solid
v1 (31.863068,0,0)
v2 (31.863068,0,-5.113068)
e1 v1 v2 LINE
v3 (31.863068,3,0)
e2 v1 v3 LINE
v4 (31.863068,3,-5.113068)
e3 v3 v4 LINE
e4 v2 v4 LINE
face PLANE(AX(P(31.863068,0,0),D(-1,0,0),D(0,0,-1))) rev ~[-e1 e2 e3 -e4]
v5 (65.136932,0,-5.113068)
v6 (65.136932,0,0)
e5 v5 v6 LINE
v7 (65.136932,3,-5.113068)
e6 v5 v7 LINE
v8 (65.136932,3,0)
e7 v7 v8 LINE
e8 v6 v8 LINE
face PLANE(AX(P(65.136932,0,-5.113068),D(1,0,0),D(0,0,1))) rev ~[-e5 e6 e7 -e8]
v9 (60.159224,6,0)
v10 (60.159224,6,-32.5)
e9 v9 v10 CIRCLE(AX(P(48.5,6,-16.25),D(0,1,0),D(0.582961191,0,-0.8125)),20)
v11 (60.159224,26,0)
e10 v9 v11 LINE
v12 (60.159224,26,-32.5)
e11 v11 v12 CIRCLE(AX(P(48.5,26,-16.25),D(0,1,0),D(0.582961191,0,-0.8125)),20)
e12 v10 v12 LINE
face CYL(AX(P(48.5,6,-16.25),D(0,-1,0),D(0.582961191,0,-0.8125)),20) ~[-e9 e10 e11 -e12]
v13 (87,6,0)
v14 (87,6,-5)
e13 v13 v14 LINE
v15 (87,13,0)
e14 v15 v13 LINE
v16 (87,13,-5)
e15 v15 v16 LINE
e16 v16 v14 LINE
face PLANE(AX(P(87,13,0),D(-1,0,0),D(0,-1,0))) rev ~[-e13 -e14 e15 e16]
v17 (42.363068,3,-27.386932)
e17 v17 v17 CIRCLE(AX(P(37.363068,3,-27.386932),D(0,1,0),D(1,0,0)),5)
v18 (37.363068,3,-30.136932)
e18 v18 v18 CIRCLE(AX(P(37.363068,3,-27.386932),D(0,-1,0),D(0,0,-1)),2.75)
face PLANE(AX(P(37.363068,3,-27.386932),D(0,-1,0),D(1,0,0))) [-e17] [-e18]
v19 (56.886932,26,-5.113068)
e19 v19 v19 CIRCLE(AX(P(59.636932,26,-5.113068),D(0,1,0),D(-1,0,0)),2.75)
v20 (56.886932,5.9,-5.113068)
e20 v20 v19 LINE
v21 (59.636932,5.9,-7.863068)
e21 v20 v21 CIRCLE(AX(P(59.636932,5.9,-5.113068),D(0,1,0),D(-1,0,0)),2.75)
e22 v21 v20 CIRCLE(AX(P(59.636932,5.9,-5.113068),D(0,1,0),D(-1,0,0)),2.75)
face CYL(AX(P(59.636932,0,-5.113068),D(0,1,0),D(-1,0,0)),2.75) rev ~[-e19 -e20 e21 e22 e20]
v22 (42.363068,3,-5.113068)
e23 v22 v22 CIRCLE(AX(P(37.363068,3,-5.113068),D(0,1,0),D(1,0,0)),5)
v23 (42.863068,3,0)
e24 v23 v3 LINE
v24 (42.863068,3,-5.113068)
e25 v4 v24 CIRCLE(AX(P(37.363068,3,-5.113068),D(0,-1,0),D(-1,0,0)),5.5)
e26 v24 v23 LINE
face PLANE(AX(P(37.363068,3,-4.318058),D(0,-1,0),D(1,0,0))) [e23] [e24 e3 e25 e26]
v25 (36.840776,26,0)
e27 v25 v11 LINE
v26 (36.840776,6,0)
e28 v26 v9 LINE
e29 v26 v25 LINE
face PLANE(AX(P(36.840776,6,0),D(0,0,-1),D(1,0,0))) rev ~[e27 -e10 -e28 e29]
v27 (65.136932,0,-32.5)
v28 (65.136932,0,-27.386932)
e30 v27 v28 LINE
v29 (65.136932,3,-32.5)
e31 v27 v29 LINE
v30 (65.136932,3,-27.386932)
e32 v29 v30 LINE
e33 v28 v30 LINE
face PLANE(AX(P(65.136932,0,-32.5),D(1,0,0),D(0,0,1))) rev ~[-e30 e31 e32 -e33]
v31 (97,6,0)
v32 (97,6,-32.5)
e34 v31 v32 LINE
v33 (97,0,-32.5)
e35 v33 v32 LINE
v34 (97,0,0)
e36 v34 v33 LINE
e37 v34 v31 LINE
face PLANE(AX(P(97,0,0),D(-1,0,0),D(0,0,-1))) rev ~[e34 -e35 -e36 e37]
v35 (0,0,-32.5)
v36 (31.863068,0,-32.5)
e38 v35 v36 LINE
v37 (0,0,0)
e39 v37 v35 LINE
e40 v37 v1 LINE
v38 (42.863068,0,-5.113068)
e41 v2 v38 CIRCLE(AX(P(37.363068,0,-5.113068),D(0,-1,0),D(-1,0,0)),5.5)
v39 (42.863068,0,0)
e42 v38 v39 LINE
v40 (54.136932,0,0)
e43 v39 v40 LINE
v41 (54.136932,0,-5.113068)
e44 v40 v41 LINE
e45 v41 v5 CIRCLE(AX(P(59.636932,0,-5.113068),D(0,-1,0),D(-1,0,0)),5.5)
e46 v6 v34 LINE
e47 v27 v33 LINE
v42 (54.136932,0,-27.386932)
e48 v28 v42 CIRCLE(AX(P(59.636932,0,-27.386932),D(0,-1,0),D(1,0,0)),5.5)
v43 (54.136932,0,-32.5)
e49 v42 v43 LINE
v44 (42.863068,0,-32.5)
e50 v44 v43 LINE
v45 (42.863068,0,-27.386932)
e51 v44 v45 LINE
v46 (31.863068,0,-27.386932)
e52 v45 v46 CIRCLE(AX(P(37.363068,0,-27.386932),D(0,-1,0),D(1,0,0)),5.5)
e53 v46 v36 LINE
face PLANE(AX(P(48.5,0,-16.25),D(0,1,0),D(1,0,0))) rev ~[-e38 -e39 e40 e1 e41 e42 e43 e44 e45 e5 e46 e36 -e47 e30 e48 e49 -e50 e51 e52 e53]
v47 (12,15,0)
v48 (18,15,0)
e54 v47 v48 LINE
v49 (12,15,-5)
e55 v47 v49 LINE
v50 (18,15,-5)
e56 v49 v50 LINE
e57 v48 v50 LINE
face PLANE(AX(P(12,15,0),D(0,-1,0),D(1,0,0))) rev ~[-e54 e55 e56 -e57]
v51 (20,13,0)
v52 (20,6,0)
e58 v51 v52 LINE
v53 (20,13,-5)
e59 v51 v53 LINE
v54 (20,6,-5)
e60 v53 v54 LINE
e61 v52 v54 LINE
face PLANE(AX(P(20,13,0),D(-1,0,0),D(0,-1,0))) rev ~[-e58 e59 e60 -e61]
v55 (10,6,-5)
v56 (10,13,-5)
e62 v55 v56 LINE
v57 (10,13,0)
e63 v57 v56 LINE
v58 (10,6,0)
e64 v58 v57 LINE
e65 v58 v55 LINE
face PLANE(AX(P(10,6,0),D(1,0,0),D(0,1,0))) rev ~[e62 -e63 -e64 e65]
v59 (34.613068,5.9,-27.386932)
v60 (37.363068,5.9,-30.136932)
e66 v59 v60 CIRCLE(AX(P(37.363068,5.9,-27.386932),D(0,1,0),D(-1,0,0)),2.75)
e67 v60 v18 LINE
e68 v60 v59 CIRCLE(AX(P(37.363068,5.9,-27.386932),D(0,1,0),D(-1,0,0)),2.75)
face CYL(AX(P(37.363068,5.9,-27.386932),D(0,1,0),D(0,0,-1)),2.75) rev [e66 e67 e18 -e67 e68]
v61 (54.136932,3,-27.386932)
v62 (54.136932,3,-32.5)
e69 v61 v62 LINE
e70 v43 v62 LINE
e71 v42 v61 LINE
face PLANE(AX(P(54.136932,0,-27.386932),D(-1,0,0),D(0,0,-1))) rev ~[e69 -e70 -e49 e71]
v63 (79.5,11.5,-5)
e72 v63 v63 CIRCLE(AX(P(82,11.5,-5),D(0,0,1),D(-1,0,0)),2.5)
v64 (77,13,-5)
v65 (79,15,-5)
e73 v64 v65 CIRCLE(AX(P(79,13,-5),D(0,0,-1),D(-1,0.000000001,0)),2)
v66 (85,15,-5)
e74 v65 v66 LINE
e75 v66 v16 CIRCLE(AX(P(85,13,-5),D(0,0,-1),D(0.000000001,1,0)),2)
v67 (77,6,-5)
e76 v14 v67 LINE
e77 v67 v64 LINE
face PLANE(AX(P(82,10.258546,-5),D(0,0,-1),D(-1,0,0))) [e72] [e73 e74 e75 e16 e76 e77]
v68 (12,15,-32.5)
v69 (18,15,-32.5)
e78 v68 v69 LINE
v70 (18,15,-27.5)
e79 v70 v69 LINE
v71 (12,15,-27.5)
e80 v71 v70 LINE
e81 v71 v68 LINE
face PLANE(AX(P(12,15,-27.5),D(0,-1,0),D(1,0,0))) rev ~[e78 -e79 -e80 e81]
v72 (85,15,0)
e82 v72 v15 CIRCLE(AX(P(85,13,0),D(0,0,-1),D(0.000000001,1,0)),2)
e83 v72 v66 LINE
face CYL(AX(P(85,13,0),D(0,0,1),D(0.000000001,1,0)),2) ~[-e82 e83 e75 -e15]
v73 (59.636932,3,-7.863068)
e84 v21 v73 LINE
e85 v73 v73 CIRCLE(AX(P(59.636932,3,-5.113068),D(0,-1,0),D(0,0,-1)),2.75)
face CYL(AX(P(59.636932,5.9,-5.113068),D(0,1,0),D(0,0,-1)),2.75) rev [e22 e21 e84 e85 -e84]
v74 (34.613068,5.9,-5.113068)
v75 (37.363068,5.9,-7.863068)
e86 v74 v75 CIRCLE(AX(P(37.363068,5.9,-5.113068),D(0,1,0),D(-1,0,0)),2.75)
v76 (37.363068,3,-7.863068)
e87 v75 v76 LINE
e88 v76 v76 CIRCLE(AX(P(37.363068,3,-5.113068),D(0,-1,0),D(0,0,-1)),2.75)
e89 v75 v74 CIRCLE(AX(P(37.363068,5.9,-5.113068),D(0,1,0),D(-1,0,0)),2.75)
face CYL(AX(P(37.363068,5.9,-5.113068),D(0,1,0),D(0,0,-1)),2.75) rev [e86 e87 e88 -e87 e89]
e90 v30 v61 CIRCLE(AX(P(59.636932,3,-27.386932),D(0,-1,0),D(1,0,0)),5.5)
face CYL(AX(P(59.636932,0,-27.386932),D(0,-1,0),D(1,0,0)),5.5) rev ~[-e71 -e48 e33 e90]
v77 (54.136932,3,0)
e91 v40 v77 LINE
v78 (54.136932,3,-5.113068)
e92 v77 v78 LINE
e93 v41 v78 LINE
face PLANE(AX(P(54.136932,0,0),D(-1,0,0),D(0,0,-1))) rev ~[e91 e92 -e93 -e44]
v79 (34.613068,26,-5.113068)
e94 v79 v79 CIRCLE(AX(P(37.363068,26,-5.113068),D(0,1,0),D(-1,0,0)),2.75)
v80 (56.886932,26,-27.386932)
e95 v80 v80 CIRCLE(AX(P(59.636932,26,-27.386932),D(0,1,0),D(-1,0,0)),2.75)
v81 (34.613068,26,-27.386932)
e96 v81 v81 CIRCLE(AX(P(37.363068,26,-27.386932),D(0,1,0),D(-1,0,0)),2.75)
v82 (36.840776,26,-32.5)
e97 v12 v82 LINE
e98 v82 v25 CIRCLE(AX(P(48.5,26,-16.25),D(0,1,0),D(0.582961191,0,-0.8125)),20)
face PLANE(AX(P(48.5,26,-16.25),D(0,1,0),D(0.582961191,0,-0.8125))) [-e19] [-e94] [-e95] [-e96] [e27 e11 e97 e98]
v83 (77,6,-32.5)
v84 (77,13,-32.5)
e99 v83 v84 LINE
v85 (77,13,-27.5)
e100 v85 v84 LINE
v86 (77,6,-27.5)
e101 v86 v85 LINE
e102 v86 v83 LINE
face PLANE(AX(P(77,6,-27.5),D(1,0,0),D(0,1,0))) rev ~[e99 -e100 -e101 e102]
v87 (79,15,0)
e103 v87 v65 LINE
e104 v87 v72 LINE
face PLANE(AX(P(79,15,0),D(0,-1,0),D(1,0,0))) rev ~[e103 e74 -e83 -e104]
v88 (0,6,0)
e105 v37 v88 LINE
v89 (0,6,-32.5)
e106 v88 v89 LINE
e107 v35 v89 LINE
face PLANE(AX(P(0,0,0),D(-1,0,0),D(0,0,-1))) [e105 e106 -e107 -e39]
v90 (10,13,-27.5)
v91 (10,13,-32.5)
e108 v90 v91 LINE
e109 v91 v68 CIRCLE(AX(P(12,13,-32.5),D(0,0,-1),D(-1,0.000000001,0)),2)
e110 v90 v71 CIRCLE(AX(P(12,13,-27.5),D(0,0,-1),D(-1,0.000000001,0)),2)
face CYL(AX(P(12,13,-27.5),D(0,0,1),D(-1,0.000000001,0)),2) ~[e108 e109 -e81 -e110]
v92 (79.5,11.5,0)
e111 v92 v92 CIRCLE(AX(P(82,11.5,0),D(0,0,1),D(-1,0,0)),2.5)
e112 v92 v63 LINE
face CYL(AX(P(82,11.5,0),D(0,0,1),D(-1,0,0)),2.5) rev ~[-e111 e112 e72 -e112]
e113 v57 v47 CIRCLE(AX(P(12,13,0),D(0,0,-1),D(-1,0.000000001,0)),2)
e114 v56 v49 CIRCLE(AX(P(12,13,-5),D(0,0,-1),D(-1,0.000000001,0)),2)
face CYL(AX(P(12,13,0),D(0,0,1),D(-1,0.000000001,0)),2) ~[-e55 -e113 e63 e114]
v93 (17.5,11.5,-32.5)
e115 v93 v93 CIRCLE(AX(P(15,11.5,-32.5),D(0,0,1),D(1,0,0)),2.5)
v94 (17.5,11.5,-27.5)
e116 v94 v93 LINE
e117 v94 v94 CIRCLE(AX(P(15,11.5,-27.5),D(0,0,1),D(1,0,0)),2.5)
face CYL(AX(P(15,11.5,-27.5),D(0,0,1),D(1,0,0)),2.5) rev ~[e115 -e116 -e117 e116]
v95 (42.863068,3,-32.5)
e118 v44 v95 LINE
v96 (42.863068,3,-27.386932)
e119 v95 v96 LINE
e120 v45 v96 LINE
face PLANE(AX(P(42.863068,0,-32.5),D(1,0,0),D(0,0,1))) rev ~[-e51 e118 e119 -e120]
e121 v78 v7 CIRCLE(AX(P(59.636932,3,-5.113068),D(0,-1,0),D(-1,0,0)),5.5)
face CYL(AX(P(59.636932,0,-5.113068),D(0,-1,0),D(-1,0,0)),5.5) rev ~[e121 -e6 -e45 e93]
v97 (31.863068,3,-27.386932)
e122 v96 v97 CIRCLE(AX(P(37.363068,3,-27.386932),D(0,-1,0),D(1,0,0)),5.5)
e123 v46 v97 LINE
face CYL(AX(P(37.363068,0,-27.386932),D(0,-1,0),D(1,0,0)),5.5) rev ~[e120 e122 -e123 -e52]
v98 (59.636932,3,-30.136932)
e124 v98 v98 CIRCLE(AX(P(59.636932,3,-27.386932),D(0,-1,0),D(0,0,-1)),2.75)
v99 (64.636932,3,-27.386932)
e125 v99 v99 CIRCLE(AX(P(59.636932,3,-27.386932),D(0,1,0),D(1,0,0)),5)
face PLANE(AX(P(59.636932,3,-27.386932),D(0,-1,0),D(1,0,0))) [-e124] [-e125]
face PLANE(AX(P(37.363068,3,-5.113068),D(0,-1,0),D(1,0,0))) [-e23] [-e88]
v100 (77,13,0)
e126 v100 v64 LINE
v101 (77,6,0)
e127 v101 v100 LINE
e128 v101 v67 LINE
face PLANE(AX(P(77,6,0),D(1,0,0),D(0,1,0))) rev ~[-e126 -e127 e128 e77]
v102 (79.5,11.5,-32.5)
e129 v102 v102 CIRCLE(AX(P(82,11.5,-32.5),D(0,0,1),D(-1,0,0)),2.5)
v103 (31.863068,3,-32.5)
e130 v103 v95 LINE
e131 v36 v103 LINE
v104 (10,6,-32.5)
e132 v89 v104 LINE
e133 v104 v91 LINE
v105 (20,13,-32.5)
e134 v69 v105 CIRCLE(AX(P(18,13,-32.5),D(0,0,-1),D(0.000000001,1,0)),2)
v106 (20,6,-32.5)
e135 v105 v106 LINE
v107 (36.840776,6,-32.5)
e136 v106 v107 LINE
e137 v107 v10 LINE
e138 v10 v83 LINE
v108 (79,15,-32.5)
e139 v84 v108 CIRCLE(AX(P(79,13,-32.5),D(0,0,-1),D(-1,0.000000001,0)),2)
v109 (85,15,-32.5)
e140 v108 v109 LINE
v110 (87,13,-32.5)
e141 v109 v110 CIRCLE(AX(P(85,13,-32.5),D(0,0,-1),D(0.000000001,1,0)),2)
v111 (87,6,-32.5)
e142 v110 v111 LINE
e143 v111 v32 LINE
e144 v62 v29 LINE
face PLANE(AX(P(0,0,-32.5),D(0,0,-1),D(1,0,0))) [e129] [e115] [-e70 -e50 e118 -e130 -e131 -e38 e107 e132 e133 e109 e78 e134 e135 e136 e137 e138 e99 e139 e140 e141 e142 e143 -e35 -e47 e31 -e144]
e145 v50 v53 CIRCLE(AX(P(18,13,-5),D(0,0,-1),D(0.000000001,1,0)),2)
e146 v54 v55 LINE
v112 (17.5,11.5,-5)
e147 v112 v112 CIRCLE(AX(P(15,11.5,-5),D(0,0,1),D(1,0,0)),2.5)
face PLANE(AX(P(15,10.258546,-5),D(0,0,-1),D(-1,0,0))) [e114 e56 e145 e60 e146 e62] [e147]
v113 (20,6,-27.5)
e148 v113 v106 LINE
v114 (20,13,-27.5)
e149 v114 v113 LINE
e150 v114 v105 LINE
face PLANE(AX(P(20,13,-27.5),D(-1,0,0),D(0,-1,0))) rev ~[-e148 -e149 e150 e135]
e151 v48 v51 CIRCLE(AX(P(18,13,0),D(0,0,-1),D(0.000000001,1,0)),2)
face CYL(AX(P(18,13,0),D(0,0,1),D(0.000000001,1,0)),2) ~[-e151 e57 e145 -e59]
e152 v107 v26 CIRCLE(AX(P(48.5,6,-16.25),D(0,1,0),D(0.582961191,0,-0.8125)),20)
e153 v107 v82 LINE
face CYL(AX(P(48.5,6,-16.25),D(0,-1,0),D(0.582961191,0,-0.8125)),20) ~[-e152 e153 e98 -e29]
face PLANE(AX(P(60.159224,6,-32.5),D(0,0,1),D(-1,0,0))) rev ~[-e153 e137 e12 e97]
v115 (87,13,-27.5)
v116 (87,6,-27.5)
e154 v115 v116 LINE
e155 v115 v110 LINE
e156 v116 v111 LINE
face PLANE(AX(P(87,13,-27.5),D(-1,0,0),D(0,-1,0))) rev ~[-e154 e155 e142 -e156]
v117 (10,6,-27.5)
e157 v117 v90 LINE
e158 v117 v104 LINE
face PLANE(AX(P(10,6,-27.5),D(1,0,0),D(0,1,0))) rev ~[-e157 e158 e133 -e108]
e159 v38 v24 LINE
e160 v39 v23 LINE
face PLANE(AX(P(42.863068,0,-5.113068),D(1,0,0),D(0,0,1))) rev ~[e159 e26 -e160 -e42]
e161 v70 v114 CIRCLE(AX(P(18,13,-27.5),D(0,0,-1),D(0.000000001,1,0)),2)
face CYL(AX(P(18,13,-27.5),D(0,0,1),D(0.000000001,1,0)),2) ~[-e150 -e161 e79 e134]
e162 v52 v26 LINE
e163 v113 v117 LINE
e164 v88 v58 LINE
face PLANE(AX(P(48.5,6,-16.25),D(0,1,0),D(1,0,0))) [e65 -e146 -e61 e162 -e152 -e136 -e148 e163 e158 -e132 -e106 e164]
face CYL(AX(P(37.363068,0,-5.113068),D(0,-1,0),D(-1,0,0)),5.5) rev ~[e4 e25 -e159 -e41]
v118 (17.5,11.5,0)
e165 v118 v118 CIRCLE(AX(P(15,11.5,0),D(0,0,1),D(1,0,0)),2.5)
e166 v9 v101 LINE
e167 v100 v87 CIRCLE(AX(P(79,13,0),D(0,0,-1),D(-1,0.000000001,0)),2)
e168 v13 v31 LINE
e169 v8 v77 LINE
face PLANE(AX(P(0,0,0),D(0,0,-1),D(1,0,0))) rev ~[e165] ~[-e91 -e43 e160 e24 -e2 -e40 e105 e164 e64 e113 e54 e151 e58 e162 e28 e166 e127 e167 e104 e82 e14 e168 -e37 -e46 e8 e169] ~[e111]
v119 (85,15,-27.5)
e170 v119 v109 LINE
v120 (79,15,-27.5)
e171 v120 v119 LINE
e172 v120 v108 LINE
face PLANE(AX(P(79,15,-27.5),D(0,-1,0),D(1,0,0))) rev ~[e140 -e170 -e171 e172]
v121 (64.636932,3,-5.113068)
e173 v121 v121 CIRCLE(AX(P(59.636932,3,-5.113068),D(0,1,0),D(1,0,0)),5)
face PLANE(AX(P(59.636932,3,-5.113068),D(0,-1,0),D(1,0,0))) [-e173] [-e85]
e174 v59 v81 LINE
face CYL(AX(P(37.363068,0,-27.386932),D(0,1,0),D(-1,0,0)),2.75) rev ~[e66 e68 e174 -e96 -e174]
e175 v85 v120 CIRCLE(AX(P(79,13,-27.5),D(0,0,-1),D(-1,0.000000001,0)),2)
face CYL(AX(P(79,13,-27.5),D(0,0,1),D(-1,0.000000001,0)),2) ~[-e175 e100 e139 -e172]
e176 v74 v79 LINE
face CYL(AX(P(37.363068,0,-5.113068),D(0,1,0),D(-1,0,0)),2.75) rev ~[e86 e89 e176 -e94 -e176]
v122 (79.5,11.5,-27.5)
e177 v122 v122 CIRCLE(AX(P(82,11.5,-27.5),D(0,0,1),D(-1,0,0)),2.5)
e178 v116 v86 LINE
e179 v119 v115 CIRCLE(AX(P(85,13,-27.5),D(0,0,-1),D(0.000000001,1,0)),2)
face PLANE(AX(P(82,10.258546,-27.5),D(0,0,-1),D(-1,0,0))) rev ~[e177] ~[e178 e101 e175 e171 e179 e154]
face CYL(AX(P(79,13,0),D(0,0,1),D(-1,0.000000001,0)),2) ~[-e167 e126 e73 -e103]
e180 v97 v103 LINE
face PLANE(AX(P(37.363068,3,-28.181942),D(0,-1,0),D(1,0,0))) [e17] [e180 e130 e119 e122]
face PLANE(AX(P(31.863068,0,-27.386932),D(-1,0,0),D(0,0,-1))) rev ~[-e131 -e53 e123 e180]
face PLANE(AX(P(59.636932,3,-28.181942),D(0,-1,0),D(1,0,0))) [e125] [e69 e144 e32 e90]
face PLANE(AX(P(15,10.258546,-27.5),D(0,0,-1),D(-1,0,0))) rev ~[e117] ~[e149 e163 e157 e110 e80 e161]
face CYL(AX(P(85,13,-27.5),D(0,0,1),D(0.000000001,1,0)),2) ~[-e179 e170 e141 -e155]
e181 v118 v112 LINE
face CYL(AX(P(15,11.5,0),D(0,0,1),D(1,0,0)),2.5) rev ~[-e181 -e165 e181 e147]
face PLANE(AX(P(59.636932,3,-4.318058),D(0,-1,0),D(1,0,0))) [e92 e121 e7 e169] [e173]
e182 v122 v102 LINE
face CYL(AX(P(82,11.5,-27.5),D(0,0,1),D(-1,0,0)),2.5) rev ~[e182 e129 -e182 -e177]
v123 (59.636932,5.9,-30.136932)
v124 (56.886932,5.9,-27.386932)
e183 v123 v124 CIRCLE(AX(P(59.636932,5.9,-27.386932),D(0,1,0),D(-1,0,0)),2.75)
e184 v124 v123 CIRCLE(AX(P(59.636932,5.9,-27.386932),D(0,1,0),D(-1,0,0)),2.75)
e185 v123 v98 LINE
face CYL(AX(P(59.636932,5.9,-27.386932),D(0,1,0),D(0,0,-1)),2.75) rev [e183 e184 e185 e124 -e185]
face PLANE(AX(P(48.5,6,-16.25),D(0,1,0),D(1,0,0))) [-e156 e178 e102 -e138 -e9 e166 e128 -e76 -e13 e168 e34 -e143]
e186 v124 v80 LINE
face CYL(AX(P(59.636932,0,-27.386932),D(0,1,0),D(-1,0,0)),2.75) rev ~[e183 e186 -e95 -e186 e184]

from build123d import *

# Parameters (mm, degrees)
SKETCH1_W                                           = 97
SKETCH1_H                                           = 32.5
BOSS_EXTRUDE1_DEPTH                                 = 6
SKETCH5_R                                           = 20
BOSS_EXTRUDE5_DEPTH                                 = 20
CBORE_FOR_M5_HEX_SOCKET_HEAD_CAP_SCREW1_D           = 5.5
CBORE_FOR_M5_HEX_SOCKET_HEAD_CAP_SCREW1_CBORE_D     = 10
CBORE_FOR_M5_HEX_SOCKET_HEAD_CAP_SCREW1_CBORE_DEPTH = 5.9
SKETCH16_R                                          = 2.5
BOSS_EXTRUDE6_DEPTH                                 = 5
BOSS_EXTRUDE7_START                                 = -27.5
SKETCH16_2_R                                        = 2.5
BOSS_EXTRUDE7_DEPTH                                 = 5
SKETCH17_R                                          = 5
CUT_EXTRUDE3_DEPTH                                  = 3
SKETCH18_R                                          = 5
SKETCH18_R_2                                        = 2.75
BOSS_EXTRUDE8_DEPTH                                 = 2.9
CUT_EXTRUDE4_DEPTH                                  = 20


with BuildPart() as part:
    # Sketch1 → Boss-Extrude1 (new body)
    with BuildSketch(Plane(origin=(0, 0, 0), x_dir=(1, 0, 0), z_dir=(0, 1, 0))):
        with Locations((48.5, 16.25)):
            Rectangle(SKETCH1_W, SKETCH1_H)
    extrude(amount=BOSS_EXTRUDE1_DEPTH)

    # Sketch5 → Boss-Extrude5 (add)
    with BuildSketch(Plane(origin=(0, 6, 0), x_dir=(1, 0, 0), z_dir=(0, 1, 0))):
        with Locations(Location((48.5, 16.25, 0), (0, 0, 54.340912304))):
            Circle(SKETCH5_R)
    extrude(amount=BOSS_EXTRUDE5_DEPTH)

    # CBORE for M5 Hex Socket Head Cap Screw1 (through all)
    with Locations(Plane.XZ):
        with Locations((37.363068196, -5.113068196), (59.636931804, -5.113068196), (59.636931804, -27.386931804), (37.363068196, -27.386931804)):
            CounterBoreHole(CBORE_FOR_M5_HEX_SOCKET_HEAD_CAP_SCREW1_D / 2, CBORE_FOR_M5_HEX_SOCKET_HEAD_CAP_SCREW1_CBORE_D / 2, CBORE_FOR_M5_HEX_SOCKET_HEAD_CAP_SCREW1_CBORE_DEPTH)

    # Sketch16 → Boss-Extrude6 (add)
    # profile 1 of 2: a face of its own
    with BuildSketch(Plane.XY):
        with BuildLine():
            Line((87, 6), (77, 6))
            Line((77, 6), (77, 13))
            ThreePointArc((77, 13), (77.585786438, 14.414213562), (79, 15))
            Line((79, 15), (85, 15))
            ThreePointArc((85, 15), (86.414213562, 14.414213562), (87, 13))
            Line((87, 13), (87, 6))
        make_face()
        with Locations(Location((82, 11.5, 0), (0, 0, 180))):
            Circle(SKETCH16_R, mode=Mode.SUBTRACT)
    # profile 2 of 2: a face of its own
    with BuildSketch(Plane.XY):
        with BuildLine():
            Line((10, 6), (10, 13))
            ThreePointArc((10, 13), (10.585786438, 14.414213562), (12, 15))
            Line((12, 15), (18, 15))
            ThreePointArc((18, 15), (19.414213562, 14.414213562), (20, 13))
            Line((20, 13), (20, 6))
            Line((20, 6), (10, 6))
        make_face()
        with Locations((15, 11.5)):
            Circle(SKETCH16_R, mode=Mode.SUBTRACT)
    extrude(amount=-BOSS_EXTRUDE6_DEPTH)

    # Sketch16<2> → Boss-Extrude7 (add)
    # profile 1 of 2: a face of its own
    with BuildSketch(Plane.XY.offset(BOSS_EXTRUDE7_START)):
        with BuildLine():
            Line((87, 6), (77, 6))
            Line((77, 6), (77, 13))
            ThreePointArc((77, 13), (77.585786438, 14.414213562), (79, 15))
            Line((79, 15), (85, 15))
            ThreePointArc((85, 15), (86.414213562, 14.414213562), (87, 13))
            Line((87, 13), (87, 6))
        make_face()
        with Locations(Location((82, 11.5, 0), (0, 0, 180))):
            Circle(SKETCH16_2_R, mode=Mode.SUBTRACT)
    # profile 2 of 2: a face of its own
    with BuildSketch(Plane.XY.offset(BOSS_EXTRUDE7_START)):
        with BuildLine():
            Line((10, 6), (10, 13))
            ThreePointArc((10, 13), (10.585786438, 14.414213562), (12, 15))
            Line((12, 15), (18, 15))
            ThreePointArc((18, 15), (19.414213562, 14.414213562), (20, 13))
            Line((20, 13), (20, 6))
            Line((20, 6), (10, 6))
        make_face()
        with Locations((15, 11.5)):
            Circle(SKETCH16_2_R, mode=Mode.SUBTRACT)
    extrude(amount=-BOSS_EXTRUDE7_DEPTH)

    # Sketch17 → Cut-Extrude3 (cut)
    # profile 1 of 8: a face of its own
    with BuildSketch(Plane.XZ):
        with BuildLine():
            ThreePointArc((42.863068196, -27.386931804), (37.363068196, -21.886931804), (31.863068196, -27.386931804))
            Line((31.863068196, -27.386931804), (31.863068196, -32.5))
            Line((31.863068196, -32.5), (42.863068196, -32.5))
            Line((42.863068196, -32.5), (42.863068196, -27.386931804))
        make_face()
        with Locations(Location((37.363068196, -27.386931804, 0), (0, 0, 270))):
            Circle(SKETCH17_R, mode=Mode.SUBTRACT)
    # profile 2 of 8: a face of its own
    with BuildSketch(Plane.XZ):
        with BuildLine():
            Line((54.136931804, -27.386931804), (54.136931804, -32.5))
            Line((54.136931804, -32.5), (65.136931804, -32.5))
            Line((65.136931804, -32.5), (65.136931804, -27.386931804))
            ThreePointArc((65.136931804, -27.386931804), (59.636931804, -21.886931804), (54.136931804, -27.386931804))
        make_face()
        with Locations(Location((59.636931804, -27.386931804, 0), (0, 0, 270))):
            Circle(SKETCH17_R, mode=Mode.SUBTRACT)
    # profile 3 of 8: a face of its own
    with BuildSketch(Plane.XZ):
        with BuildLine():
            Line((54.136931804, 0), (54.136931804, -5.113068196))
            ThreePointArc((54.136931804, -5.113068196), (59.636931804, -10.613068196), (65.136931804, -5.113068196))
            Line((65.136931804, -5.113068196), (65.136931804, 0))
            Line((65.136931804, 0), (54.136931804, 0))
        make_face()
        with Locations(Location((59.636931804, -5.113068196, 0), (0, 0, 270))):
            Circle(SKETCH17_R, mode=Mode.SUBTRACT)
    # profile 4 of 8: a face of its own
    with BuildSketch(Plane.XZ):
        with BuildLine():
            Line((42.863068196, -5.113068196), (42.863068196, 0))
            Line((42.863068196, 0), (31.863068196, 0))
            Line((31.863068196, 0), (31.863068196, -5.113068196))
            ThreePointArc((31.863068196, -5.113068196), (37.363068196, -10.613068196), (42.863068196, -5.113068196))
        make_face()
        with Locations(Location((37.363068196, -5.113068196, 0), (0, 0, 270))):
            Circle(SKETCH17_R, mode=Mode.SUBTRACT)
    # profile 5 of 8: a face of its own
    with BuildSketch(Plane.XZ):
        with Locations(Location((37.363068196, -27.386931804, 0), (0, 0, 270))):
            Circle(SKETCH17_R)
    # profile 6 of 8: a face of its own
    with BuildSketch(Plane.XZ):
        with Locations(Location((59.636931804, -27.386931804, 0), (0, 0, 270))):
            Circle(SKETCH17_R)
    # profile 7 of 8: a face of its own
    with BuildSketch(Plane.XZ):
        with Locations(Location((59.636931804, -5.113068196, 0), (0, 0, 270))):
            Circle(SKETCH17_R)
    # profile 8 of 8: a face of its own
    with BuildSketch(Plane.XZ):
        with Locations(Location((37.363068196, -5.113068196, 0), (0, 0, 270))):
            Circle(SKETCH17_R)
    extrude(amount=-CUT_EXTRUDE3_DEPTH, mode=Mode.SUBTRACT)

    # Sketch18 → Boss-Extrude8 (add)
    # profile 1 of 4: a face of its own
    with BuildSketch(Plane.XZ.offset(-5.9)):
        with Locations((37.363068196, -27.386931804)):
            Circle(SKETCH18_R)
        with Locations(Location((37.363068196, -27.386931804, 0), (0, 0, 270))):
            Circle(SKETCH18_R_2, mode=Mode.SUBTRACT)
    # profile 2 of 4: a face of its own
    with BuildSketch(Plane.XZ.offset(-5.9)):
        with Locations((37.363068196, -5.113068196)):
            Circle(SKETCH18_R)
        with Locations(Location((37.363068196, -5.113068196, 0), (0, 0, 270))):
            Circle(SKETCH18_R_2, mode=Mode.SUBTRACT)
    # profile 3 of 4: a face of its own
    with BuildSketch(Plane.XZ.offset(-5.9)):
        with Locations((59.636931804, -5.113068196)):
            Circle(SKETCH18_R)
        with Locations(Location((59.636931804, -5.113068196, 0), (0, 0, 270))):
            Circle(SKETCH18_R_2, mode=Mode.SUBTRACT)
    # profile 4 of 4: a face of its own
    with BuildSketch(Plane.XZ.offset(-5.9)):
        with Locations((59.636931804, -27.386931804)):
            Circle(SKETCH18_R)
        with Locations(Location((59.636931804, -27.386931804, 0), (0, 0, 270))):
            Circle(SKETCH18_R_2, mode=Mode.SUBTRACT)
    extrude(amount=BOSS_EXTRUDE8_DEPTH)

    # Sketch19 → Cut-Extrude4 (cut)
    with BuildSketch(Plane.XZ.offset(-6)):
        with BuildLine():
            Line((36.840776184, 0), (60.159223816, 0))
            ThreePointArc((60.159223816, 0), (48.5, 3.75), (36.840776184, 0))
        make_face()
        with BuildLine():
            Line((60.159223816, -32.5), (36.840776184, -32.5))
            ThreePointArc((36.840776184, -32.5), (48.5, -36.25), (60.159223816, -32.5))
        make_face()
    extrude(amount=-CUT_EXTRUDE4_DEPTH, mode=Mode.SUBTRACT)


solid = part.part
